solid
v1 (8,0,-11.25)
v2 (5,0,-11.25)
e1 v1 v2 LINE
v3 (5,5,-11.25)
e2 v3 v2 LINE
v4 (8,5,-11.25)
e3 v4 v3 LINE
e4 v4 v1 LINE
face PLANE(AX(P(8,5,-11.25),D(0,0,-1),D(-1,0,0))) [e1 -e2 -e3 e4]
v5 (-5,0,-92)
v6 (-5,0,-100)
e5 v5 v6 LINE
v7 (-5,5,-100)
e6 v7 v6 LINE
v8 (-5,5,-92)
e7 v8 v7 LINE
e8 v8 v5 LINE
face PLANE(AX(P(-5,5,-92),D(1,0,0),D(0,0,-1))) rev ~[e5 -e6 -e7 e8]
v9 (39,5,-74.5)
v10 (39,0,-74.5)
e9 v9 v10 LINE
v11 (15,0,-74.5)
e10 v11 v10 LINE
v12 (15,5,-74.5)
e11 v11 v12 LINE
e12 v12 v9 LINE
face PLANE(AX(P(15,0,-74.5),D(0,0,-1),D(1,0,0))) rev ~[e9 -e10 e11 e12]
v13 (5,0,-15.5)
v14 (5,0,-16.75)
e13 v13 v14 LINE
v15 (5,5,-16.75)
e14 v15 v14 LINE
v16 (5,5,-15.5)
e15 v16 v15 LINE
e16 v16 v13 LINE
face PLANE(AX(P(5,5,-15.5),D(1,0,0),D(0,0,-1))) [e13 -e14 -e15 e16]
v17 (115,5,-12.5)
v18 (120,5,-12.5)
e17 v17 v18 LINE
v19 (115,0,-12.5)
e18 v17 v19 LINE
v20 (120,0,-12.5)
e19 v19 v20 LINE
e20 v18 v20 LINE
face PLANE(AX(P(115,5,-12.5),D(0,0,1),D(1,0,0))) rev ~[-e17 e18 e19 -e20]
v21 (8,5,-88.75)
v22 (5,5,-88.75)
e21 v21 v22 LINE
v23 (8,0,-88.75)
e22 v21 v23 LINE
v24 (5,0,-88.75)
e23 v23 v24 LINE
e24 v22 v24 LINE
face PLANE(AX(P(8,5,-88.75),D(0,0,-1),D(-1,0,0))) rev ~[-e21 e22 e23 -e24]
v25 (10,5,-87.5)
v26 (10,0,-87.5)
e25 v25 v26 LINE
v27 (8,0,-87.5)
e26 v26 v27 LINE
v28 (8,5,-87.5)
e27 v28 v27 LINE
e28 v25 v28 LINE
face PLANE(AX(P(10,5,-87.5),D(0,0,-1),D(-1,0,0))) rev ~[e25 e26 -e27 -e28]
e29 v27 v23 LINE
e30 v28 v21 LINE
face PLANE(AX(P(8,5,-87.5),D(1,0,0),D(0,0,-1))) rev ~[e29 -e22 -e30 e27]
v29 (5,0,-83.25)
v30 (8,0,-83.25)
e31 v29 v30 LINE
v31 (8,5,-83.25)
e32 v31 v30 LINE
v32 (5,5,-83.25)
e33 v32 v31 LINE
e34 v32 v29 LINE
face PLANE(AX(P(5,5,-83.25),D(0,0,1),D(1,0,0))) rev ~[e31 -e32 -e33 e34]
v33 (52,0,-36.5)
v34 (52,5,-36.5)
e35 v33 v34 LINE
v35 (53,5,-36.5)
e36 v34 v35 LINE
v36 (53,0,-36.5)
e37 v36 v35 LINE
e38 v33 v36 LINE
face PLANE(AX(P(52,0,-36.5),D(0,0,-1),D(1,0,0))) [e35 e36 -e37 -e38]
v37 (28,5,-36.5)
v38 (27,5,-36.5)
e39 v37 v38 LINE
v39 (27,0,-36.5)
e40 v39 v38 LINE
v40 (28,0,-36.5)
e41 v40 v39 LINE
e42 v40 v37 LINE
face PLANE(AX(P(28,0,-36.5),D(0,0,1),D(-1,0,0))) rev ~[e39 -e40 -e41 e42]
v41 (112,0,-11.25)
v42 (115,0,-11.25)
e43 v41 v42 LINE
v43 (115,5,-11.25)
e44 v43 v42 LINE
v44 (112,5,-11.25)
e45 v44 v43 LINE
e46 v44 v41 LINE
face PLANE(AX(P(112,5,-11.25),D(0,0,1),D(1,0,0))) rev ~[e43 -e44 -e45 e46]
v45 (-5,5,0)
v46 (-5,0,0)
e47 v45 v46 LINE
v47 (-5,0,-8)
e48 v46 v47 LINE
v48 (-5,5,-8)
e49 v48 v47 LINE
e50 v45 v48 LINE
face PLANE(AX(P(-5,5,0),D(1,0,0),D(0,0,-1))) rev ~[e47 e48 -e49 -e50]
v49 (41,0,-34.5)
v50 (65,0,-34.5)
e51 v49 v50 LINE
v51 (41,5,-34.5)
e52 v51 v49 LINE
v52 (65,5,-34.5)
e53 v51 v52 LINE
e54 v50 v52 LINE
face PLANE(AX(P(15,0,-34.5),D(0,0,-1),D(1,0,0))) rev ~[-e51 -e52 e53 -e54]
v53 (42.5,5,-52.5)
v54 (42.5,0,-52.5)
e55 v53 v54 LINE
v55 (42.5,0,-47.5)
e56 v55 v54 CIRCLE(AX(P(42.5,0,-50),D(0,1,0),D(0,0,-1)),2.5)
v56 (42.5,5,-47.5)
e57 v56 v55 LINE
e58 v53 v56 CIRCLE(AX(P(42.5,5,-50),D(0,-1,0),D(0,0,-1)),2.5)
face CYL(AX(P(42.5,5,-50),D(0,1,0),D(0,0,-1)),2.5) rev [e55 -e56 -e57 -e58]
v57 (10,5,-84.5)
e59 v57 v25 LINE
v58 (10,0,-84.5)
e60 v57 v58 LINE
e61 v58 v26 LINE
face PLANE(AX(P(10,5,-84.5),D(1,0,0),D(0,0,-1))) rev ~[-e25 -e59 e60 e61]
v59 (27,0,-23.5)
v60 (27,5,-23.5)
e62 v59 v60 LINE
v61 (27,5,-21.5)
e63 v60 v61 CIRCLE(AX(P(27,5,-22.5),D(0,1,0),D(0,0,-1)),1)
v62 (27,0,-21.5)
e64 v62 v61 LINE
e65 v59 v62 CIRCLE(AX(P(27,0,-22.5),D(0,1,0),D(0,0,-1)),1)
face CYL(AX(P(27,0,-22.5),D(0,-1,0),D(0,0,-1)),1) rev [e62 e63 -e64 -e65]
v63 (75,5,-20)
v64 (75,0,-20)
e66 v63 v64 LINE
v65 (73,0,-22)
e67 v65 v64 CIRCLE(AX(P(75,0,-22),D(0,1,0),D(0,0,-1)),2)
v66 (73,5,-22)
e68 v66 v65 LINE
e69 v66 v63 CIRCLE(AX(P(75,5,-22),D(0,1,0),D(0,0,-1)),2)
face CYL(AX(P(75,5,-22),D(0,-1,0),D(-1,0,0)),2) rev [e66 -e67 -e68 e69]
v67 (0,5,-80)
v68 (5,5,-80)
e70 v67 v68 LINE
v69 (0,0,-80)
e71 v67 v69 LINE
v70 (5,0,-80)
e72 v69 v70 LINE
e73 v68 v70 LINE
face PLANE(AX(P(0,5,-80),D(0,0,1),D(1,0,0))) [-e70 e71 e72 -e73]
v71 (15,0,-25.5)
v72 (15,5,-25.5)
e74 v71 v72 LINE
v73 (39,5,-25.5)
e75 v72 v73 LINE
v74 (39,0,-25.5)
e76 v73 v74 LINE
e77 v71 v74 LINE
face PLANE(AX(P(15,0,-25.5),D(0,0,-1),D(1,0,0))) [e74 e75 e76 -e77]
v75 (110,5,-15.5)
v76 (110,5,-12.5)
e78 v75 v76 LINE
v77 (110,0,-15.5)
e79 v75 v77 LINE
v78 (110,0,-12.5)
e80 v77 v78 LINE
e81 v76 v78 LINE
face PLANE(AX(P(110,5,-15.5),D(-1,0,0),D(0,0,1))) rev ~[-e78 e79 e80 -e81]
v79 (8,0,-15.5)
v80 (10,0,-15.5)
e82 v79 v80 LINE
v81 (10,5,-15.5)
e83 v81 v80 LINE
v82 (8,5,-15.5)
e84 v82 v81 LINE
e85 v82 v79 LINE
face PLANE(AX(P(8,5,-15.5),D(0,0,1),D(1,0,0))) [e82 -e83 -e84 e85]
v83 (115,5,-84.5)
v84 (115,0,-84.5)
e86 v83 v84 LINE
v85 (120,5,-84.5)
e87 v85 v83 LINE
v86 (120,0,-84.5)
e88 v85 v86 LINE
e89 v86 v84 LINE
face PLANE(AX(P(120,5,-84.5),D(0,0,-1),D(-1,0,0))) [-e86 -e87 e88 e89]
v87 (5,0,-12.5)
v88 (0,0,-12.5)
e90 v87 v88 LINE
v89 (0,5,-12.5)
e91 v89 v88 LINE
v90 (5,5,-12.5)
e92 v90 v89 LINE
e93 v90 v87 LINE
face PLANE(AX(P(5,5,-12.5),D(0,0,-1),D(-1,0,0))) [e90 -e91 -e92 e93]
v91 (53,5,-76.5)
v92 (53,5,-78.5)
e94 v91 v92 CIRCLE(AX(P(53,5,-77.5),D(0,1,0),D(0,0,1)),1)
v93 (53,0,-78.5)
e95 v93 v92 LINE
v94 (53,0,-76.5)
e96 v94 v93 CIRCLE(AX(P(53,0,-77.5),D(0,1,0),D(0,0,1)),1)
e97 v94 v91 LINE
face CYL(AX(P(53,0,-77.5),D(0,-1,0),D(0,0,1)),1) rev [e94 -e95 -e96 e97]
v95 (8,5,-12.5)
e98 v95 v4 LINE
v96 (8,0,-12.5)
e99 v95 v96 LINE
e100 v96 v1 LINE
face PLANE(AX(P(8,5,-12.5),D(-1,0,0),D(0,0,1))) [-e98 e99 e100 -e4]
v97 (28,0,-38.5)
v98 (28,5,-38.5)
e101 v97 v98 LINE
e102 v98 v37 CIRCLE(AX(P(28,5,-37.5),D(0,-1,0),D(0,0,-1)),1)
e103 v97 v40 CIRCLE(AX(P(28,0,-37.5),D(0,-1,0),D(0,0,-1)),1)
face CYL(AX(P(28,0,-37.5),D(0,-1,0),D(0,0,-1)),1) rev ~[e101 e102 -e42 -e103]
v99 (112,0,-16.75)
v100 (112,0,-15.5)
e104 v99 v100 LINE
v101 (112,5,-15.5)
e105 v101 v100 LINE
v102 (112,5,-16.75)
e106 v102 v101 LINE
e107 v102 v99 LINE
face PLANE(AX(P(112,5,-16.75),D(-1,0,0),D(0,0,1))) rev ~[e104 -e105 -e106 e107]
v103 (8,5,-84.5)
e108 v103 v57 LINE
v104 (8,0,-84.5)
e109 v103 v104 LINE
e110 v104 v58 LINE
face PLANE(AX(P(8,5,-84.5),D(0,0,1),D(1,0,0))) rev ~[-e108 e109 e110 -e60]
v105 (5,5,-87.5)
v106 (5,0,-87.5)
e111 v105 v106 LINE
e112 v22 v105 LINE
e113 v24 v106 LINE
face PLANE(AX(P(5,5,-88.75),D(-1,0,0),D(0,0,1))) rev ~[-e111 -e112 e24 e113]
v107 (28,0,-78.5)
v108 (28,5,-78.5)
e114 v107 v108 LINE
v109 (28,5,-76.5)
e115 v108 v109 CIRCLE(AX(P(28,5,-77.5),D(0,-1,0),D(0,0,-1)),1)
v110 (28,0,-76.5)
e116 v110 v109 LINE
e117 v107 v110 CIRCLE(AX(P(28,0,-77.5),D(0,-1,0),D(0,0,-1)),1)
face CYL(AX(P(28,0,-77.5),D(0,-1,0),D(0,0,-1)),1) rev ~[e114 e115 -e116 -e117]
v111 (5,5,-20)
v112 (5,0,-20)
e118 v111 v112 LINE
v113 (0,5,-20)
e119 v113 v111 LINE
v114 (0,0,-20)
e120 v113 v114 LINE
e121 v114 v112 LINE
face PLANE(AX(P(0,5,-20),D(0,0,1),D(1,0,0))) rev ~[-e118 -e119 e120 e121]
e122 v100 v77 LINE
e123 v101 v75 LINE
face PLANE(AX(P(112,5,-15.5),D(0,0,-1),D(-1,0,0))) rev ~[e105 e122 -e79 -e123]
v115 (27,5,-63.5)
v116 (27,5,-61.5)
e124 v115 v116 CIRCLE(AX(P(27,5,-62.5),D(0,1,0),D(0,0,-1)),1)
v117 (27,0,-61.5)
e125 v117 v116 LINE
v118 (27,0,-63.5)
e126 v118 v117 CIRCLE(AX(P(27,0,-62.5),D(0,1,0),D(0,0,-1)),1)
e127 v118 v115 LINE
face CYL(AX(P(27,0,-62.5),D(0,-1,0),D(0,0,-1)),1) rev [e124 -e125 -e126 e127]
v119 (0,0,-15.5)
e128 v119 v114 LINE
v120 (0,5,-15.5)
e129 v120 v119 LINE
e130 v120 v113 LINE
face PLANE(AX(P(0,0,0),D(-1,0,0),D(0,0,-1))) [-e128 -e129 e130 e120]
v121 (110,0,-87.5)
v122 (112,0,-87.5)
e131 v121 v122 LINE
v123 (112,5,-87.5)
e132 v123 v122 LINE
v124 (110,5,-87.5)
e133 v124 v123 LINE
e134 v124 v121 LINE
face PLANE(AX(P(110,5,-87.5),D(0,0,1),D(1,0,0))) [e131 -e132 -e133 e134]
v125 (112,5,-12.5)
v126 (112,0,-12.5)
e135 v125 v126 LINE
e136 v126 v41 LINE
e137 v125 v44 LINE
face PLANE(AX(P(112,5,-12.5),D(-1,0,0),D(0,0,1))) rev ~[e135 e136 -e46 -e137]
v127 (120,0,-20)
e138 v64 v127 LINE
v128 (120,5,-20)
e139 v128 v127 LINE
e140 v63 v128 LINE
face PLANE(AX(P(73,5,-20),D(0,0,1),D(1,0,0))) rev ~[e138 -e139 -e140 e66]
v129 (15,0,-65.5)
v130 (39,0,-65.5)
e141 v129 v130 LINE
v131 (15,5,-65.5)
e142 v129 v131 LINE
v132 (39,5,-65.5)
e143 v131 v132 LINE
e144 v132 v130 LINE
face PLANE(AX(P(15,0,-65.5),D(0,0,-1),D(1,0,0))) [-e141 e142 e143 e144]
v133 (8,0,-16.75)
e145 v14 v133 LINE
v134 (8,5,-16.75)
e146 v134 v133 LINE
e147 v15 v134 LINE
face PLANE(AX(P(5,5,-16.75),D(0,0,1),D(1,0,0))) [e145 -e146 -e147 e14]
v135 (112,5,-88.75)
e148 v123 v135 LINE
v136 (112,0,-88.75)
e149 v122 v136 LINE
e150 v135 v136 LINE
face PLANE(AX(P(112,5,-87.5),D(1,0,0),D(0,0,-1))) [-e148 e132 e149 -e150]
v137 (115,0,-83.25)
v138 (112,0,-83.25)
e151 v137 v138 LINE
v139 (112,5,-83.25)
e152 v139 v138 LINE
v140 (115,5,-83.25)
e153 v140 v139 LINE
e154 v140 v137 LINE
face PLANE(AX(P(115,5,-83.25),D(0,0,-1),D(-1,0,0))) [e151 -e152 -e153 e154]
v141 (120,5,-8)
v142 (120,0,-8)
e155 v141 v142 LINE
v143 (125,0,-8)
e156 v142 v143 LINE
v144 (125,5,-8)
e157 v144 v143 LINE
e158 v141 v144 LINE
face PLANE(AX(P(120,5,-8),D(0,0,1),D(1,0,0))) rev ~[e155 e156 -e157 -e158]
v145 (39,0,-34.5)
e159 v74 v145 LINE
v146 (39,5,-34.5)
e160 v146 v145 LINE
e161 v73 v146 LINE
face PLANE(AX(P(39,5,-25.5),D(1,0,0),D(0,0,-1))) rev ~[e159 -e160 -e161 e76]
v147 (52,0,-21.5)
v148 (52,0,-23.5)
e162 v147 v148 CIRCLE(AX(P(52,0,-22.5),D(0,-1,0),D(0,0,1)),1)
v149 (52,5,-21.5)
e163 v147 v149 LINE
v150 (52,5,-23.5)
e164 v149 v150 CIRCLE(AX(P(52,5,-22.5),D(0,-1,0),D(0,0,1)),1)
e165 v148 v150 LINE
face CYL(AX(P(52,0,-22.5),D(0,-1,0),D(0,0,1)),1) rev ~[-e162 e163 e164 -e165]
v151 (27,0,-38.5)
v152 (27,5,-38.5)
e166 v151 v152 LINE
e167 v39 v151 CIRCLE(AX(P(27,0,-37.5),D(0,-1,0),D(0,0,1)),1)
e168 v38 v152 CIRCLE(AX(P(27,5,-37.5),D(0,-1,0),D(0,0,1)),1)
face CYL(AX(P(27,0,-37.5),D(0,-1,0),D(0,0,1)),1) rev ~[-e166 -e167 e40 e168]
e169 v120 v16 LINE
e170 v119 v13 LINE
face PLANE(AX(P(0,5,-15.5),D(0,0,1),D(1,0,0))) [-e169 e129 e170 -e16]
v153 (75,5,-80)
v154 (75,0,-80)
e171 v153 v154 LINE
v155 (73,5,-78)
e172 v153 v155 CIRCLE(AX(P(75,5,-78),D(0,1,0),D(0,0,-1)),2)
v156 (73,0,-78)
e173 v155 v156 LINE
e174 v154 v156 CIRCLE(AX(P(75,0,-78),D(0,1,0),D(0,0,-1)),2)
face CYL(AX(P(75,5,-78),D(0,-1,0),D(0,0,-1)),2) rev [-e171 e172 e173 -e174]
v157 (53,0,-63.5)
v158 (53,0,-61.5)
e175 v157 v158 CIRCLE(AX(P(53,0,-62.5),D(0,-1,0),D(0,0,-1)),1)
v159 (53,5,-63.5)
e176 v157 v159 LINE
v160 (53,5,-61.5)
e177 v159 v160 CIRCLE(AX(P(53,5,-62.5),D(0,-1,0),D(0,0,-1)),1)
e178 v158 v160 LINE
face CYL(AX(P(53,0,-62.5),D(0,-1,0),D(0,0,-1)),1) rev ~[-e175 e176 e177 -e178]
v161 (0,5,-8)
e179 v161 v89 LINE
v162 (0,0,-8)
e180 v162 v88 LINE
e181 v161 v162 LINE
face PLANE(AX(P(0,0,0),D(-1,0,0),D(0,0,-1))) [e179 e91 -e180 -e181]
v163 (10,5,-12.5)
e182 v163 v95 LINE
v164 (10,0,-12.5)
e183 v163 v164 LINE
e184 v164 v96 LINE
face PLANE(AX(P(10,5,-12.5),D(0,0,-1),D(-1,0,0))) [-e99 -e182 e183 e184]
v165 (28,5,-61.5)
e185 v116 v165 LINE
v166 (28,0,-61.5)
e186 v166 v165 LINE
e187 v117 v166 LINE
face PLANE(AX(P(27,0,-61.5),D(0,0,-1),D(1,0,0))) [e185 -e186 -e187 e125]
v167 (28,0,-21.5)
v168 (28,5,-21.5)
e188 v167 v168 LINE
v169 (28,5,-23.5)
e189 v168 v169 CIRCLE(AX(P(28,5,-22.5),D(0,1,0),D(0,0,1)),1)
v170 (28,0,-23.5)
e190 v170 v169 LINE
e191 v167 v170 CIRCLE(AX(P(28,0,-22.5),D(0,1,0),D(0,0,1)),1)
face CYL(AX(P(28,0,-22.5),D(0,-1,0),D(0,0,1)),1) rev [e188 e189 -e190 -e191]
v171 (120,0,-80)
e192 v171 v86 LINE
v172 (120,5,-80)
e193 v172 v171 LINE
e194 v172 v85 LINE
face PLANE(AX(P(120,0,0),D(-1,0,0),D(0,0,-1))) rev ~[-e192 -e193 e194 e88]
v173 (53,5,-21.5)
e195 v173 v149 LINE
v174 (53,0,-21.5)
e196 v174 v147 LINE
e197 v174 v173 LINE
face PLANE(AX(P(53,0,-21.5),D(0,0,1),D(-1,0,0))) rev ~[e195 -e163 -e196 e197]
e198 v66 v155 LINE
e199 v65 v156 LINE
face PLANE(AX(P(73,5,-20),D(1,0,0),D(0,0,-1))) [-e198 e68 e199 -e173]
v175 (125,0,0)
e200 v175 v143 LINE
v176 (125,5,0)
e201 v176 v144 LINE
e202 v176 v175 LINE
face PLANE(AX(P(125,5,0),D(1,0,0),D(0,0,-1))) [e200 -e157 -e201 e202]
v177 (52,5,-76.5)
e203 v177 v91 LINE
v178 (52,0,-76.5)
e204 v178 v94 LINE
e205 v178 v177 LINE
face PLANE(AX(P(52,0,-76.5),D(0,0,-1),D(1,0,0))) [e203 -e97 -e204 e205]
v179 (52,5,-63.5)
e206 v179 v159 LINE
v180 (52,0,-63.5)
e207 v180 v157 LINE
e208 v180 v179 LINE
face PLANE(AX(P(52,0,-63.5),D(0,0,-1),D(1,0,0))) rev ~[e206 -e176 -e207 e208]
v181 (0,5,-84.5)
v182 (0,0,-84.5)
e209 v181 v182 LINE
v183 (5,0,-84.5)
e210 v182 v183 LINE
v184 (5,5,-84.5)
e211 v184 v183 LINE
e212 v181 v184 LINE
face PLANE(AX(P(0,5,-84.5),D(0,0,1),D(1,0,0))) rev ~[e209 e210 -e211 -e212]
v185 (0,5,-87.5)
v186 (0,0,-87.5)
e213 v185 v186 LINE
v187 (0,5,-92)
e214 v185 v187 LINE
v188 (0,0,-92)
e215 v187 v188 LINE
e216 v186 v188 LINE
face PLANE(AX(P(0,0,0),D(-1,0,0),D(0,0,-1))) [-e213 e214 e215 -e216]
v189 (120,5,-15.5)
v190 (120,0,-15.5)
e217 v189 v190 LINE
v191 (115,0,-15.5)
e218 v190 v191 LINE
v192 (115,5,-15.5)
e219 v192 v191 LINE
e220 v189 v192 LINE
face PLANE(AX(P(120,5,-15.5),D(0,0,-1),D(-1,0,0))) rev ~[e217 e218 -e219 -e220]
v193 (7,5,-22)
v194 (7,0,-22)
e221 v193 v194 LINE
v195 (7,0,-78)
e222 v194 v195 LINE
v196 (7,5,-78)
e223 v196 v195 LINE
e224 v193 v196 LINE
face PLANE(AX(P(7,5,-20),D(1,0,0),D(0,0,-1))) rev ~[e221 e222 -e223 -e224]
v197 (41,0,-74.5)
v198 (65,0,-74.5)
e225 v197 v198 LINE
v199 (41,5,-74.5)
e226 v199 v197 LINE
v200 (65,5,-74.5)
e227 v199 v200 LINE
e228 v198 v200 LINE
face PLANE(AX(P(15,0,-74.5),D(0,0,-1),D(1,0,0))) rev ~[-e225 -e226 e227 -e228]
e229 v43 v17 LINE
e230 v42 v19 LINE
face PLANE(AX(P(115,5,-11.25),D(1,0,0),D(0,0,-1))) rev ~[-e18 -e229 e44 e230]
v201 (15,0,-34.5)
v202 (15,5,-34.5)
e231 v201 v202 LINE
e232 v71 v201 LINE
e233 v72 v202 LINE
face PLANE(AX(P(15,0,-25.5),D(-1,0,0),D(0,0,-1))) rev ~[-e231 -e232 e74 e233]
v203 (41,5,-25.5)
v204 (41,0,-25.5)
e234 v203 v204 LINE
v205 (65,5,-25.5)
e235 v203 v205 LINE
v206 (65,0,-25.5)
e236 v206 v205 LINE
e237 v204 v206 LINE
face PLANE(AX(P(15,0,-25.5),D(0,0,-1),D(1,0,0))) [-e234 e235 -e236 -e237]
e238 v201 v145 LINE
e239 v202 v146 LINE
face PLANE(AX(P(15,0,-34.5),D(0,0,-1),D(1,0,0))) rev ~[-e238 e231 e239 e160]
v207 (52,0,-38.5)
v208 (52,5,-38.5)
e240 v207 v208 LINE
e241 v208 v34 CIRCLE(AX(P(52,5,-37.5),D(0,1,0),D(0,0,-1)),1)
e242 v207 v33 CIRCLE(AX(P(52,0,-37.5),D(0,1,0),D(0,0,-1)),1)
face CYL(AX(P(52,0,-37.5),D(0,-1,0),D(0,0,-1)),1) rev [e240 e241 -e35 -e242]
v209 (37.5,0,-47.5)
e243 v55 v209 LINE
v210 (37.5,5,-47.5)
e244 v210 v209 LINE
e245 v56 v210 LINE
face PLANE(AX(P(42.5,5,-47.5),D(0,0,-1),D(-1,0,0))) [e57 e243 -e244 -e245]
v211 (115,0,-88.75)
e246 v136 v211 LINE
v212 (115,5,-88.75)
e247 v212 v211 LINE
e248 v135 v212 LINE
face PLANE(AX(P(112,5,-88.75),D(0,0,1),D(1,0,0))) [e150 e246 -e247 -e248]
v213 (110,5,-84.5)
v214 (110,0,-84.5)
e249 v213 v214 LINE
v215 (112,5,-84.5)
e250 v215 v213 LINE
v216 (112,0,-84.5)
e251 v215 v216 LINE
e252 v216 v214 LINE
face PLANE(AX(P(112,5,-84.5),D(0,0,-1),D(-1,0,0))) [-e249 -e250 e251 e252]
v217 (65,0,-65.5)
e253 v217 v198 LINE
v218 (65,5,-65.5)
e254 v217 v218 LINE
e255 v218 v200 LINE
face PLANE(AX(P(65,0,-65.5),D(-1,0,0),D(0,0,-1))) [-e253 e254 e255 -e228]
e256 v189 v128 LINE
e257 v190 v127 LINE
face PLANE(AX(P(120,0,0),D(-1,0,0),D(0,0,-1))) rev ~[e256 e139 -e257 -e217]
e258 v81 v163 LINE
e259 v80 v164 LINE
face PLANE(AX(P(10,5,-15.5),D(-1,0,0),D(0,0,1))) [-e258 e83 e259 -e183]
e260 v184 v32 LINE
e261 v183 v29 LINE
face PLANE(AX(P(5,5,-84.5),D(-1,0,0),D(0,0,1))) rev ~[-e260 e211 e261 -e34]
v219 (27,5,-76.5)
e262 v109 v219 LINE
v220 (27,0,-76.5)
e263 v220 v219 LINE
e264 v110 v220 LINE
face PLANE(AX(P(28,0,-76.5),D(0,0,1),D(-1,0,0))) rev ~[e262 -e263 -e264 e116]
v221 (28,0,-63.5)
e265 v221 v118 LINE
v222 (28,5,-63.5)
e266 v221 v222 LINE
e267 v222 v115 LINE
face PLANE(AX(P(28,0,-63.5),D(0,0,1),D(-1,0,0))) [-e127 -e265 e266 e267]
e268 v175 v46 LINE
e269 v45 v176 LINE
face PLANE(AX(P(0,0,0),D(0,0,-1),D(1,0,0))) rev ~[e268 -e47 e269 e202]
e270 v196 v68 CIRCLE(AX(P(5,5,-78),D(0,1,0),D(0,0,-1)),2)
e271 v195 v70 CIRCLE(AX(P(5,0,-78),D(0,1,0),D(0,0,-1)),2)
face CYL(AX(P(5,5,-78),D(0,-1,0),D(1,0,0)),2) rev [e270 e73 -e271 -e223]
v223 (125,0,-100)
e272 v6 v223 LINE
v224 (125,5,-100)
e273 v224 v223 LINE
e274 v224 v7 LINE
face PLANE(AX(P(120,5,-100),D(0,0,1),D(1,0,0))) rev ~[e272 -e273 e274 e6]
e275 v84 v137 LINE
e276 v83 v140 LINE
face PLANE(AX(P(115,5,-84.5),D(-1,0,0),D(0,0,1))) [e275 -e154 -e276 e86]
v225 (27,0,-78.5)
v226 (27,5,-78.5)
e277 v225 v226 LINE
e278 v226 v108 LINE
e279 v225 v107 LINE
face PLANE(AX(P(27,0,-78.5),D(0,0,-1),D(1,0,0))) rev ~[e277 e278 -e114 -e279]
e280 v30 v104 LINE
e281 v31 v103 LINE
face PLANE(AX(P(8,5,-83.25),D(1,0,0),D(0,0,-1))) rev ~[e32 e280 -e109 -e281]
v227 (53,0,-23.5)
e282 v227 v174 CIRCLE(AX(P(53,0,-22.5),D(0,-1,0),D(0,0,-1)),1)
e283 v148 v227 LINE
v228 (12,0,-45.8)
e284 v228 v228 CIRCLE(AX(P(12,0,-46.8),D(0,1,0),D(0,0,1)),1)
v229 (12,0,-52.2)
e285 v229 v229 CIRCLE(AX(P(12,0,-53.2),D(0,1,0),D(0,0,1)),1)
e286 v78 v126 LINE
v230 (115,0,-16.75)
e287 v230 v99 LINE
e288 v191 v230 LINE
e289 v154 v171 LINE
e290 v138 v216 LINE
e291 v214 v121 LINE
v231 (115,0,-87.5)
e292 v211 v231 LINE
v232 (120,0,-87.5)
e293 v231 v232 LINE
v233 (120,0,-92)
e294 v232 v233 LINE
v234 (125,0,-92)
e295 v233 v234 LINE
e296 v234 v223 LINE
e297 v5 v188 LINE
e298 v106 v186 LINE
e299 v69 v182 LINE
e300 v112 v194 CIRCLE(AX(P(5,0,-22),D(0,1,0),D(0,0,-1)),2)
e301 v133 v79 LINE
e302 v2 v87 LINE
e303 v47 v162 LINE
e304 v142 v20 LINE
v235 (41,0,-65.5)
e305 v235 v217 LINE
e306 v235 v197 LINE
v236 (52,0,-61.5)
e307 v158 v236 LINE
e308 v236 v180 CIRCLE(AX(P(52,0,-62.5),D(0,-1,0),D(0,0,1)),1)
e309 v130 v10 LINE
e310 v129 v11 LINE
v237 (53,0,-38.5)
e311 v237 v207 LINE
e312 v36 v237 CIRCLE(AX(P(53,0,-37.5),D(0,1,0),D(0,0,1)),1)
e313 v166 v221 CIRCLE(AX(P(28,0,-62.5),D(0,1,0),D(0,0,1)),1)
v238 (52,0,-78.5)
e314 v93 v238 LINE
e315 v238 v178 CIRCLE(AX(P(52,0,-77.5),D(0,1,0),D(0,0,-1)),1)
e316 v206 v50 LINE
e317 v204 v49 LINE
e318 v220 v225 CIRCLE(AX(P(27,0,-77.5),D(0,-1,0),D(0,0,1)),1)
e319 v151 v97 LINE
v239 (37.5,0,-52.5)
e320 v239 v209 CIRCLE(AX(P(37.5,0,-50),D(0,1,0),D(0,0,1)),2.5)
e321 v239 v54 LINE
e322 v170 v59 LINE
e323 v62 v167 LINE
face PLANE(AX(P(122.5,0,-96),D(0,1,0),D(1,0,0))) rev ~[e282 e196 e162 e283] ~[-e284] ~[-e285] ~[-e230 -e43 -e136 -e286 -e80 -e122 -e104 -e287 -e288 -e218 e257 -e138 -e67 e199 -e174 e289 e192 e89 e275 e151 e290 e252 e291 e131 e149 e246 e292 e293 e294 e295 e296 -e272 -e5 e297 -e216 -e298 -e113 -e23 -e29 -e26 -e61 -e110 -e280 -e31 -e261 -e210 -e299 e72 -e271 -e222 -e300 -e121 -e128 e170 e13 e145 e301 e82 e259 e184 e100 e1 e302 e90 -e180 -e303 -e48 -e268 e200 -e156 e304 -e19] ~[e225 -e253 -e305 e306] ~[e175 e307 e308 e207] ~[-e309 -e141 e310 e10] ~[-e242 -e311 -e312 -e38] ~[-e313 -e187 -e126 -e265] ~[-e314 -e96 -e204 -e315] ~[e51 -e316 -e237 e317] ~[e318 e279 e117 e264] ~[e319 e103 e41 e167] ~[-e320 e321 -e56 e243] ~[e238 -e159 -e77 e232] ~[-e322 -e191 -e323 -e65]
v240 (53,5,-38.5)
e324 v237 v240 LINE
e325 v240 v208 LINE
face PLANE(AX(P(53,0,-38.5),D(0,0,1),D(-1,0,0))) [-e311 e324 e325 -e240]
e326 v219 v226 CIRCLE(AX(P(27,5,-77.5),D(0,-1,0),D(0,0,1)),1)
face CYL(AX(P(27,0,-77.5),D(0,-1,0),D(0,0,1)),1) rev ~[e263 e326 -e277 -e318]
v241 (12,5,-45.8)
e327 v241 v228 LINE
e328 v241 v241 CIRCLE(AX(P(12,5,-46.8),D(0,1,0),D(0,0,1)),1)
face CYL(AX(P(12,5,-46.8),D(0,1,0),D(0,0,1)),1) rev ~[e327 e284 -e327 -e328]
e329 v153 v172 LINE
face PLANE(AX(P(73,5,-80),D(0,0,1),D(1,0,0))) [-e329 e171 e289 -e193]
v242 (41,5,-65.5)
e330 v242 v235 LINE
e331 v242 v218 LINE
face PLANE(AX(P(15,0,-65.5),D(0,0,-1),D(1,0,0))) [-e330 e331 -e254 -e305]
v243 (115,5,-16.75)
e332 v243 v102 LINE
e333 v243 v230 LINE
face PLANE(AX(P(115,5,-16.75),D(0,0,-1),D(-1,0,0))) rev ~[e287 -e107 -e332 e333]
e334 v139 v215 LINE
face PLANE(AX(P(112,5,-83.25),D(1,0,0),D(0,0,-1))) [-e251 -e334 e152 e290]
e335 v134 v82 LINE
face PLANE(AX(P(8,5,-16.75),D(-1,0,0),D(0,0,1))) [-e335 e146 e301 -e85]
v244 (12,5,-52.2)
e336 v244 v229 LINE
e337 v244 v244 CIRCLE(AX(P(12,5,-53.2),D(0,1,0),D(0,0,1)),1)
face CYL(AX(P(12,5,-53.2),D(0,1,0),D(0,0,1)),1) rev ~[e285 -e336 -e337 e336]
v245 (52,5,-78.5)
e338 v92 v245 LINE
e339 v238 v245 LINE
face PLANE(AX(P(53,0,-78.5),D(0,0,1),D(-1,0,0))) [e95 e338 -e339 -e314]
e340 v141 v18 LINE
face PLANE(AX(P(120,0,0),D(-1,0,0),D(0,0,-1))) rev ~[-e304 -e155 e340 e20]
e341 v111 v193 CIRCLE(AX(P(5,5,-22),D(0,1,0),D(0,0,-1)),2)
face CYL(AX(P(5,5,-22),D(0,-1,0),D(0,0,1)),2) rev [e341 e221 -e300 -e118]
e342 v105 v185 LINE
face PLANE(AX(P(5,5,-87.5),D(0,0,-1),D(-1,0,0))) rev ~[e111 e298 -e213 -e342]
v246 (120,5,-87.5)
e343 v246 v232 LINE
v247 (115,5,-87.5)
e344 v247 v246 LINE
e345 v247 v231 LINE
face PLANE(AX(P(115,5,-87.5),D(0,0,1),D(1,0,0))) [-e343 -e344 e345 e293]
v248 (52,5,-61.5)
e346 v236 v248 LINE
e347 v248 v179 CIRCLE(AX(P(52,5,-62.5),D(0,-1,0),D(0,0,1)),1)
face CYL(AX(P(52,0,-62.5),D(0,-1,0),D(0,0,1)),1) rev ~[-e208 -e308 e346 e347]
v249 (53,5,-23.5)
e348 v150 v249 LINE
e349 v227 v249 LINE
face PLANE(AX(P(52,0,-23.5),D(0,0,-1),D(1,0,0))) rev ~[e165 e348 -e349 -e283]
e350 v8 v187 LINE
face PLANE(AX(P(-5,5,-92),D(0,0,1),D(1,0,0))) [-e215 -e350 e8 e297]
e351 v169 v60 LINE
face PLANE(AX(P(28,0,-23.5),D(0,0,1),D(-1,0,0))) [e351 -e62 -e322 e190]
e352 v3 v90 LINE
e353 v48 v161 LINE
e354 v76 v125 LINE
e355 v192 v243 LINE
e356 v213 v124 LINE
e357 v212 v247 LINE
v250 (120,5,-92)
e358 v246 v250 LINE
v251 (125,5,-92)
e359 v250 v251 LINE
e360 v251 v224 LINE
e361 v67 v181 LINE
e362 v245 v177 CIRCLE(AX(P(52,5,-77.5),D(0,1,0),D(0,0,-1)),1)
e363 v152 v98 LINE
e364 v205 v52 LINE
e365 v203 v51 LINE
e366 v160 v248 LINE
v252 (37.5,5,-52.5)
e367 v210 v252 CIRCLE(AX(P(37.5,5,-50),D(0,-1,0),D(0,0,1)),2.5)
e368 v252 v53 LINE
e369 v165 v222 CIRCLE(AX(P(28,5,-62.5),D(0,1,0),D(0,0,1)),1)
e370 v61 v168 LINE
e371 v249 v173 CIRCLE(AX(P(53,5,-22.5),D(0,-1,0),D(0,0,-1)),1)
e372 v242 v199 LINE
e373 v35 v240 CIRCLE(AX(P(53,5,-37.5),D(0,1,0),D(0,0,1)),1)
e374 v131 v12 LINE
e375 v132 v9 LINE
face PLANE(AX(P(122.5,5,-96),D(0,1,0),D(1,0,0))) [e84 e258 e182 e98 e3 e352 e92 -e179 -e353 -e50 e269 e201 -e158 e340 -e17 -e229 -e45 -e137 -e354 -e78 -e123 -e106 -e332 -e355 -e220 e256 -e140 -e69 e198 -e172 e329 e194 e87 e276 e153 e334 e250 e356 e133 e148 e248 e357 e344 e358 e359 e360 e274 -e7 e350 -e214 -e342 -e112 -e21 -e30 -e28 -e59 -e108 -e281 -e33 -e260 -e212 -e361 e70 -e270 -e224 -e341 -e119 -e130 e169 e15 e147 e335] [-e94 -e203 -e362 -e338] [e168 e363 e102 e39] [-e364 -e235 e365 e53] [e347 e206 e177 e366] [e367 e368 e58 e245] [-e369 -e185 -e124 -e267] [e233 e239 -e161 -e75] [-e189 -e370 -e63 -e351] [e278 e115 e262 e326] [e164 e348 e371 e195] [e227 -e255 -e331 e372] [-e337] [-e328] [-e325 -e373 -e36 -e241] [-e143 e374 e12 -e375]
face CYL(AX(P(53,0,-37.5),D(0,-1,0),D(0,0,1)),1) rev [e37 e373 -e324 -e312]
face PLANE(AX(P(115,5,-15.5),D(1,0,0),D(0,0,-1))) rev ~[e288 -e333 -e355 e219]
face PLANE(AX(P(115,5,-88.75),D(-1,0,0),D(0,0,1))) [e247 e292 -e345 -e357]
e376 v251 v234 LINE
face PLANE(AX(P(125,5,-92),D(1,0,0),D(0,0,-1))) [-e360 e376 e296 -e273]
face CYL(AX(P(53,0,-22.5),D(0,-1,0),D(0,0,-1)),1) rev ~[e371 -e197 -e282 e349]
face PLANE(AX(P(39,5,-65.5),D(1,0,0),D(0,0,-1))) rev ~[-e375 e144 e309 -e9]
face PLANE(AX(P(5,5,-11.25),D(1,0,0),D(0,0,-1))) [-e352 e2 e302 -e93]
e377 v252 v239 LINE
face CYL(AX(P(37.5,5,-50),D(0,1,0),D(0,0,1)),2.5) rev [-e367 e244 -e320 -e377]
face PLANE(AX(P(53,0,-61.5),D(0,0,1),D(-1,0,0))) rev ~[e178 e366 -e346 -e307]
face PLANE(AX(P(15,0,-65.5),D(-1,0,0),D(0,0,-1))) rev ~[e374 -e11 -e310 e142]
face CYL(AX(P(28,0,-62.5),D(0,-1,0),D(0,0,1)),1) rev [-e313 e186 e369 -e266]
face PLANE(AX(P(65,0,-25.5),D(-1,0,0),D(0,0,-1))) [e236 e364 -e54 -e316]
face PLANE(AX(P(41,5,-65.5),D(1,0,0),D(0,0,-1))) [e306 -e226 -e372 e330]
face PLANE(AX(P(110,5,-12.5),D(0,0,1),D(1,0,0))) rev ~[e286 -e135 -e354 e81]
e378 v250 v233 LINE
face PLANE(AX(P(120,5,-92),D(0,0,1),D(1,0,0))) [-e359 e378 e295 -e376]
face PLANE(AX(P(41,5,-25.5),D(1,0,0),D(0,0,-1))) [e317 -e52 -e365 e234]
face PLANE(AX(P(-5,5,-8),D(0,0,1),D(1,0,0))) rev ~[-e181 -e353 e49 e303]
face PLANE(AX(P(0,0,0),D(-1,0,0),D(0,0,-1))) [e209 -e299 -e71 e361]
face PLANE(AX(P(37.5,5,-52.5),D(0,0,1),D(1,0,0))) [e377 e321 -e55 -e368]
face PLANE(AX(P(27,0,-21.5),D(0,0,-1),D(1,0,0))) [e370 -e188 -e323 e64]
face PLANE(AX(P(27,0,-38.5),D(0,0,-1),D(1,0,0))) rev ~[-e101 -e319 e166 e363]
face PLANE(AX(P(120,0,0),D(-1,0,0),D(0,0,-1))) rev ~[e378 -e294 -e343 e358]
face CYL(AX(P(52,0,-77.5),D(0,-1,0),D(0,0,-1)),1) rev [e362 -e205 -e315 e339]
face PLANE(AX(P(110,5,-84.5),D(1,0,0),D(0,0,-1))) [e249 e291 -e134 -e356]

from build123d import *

# Parameters (mm, degrees)
SKETCH1_W           = 120
SKETCH1_H           = 100
SKETCH1_W_2         = 50
SKETCH1_H_2         = 9
BOSS_EXTRUDE1_DEPTH = 5
SKETCH2_W           = 5
SKETCH2_H           = 8
BOSS_EXTRUDE2_DEPTH = 5
SKETCH3_W           = 47
SKETCH3_H           = 60
SKETCH3_W_2         = 7
CUT_EXTRUDE1_DEPTH  = 161.15617378
FILLET1_R           = 2
SKETCH4_R           = 1
CUT_EXTRUDE2_DEPTH  = 161.15617378
CUT_EXTRUDE3_DEPTH  = 161.15617378
SKETCH6_W           = 2
SKETCH6_H           = 9
BOSS_EXTRUDE3_DEPTH = 5


with BuildPart() as part:
    # Sketch1 → Boss-Extrude1 (new body)
    with BuildSketch(Plane(origin=(0, 0, 0), x_dir=(1, 0, 0), z_dir=(0, 1, 0))):
        with Locations((60, 50)):
            Rectangle(SKETCH1_W, SKETCH1_H)
        with BuildLine():
            Line((27, 78.5), (28, 78.5))
            ThreePointArc((28, 78.5), (29, 77.5), (28, 76.5))
            Line((28, 76.5), (27, 76.5))
            ThreePointArc((27, 76.5), (26, 77.5), (27, 78.5))
        make_face(mode=Mode.SUBTRACT)
        with Locations((40, 70)):
            Rectangle(SKETCH1_W_2, SKETCH1_H_2, mode=Mode.SUBTRACT)
        with BuildLine():
            Line((53, 78.5), (52, 78.5))
            ThreePointArc((52, 78.5), (51, 77.5), (52, 76.5))
            Line((52, 76.5), (53, 76.5))
            ThreePointArc((53, 76.5), (54, 77.5), (53, 78.5))
        make_face(mode=Mode.SUBTRACT)
        with BuildLine():
            Line((27, 61.5), (28, 61.5))
            ThreePointArc((28, 61.5), (29, 62.5), (28, 63.5))
            Line((28, 63.5), (27, 63.5))
            ThreePointArc((27, 63.5), (26, 62.5), (27, 61.5))
        make_face(mode=Mode.SUBTRACT)
        with BuildLine():
            Line((53, 61.5), (52, 61.5))
            ThreePointArc((52, 61.5), (51, 62.5), (52, 63.5))
            Line((52, 63.5), (53, 63.5))
            ThreePointArc((53, 63.5), (54, 62.5), (53, 61.5))
        make_face(mode=Mode.SUBTRACT)
        with BuildLine():
            Line((27, 21.5), (28, 21.5))
            ThreePointArc((28, 21.5), (29, 22.5), (28, 23.5))
            Line((28, 23.5), (27, 23.5))
            ThreePointArc((27, 23.5), (26, 22.5), (27, 21.5))
        make_face(mode=Mode.SUBTRACT)
        with BuildLine():
            Line((53, 21.5), (52, 21.5))
            ThreePointArc((52, 21.5), (51, 22.5), (52, 23.5))
            Line((52, 23.5), (53, 23.5))
            ThreePointArc((53, 23.5), (54, 22.5), (53, 21.5))
        make_face(mode=Mode.SUBTRACT)
        with BuildLine():
            Line((27, 38.5), (28, 38.5))
            ThreePointArc((28, 38.5), (29, 37.5), (28, 36.5))
            Line((28, 36.5), (27, 36.5))
            ThreePointArc((27, 36.5), (26, 37.5), (27, 38.5))
        make_face(mode=Mode.SUBTRACT)
        with BuildLine():
            Line((53, 38.5), (52, 38.5))
            ThreePointArc((52, 38.5), (51, 37.5), (52, 36.5))
            Line((52, 36.5), (53, 36.5))
            ThreePointArc((53, 36.5), (54, 37.5), (53, 38.5))
        make_face(mode=Mode.SUBTRACT)
        with Locations((40, 30)):
            Rectangle(SKETCH1_W_2, SKETCH1_H_2, mode=Mode.SUBTRACT)
    extrude(amount=BOSS_EXTRUDE1_DEPTH)

    # Sketch2 → Boss-Extrude2 (add)
    with BuildSketch(Plane(origin=(0, 5, 0), x_dir=(1, 0, 0), z_dir=(0, 1, 0))):
        with Locations((122.5, 96)):
            Rectangle(SKETCH2_W, SKETCH2_H)
        with Locations((122.5, 4)):
            Rectangle(SKETCH2_W, SKETCH2_H)
        with Locations((-2.5, 4)):
            Rectangle(SKETCH2_W, SKETCH2_H)
        with Locations((-2.5, 96)):
            Rectangle(SKETCH2_W, SKETCH2_H)
    extrude(amount=-BOSS_EXTRUDE2_DEPTH)

    # Sketch3 → Cut-Extrude1 (cut, through all)
    with BuildSketch(Plane(origin=(0, 5, 0), x_dir=(1, 0, 0), z_dir=(0, 1, 0))):
        with Locations((96.5, 50)):
            Rectangle(SKETCH3_W, SKETCH3_H)
        with Locations((3.5, 50)):
            Rectangle(SKETCH3_W_2, SKETCH3_H)
    extrude(amount=-CUT_EXTRUDE1_DEPTH, mode=Mode.SUBTRACT)

    # Fillet1
    fillet1_edges = [part.edges().sort_by_distance(p)[0] for p in [
        (73, 2.5, -20),
        (73, 2.5, -80),
        (7, 2.5, -80),
        (7, 2.5, -20),
    ]]
    fillet(fillet1_edges, radius=FILLET1_R)

    # Sketch4 → Cut-Extrude2 (cut, through all)
    with BuildSketch(Plane(origin=(0, 5, 0), x_dir=(1, 0, 0), z_dir=(0, 1, 0))):
        with Locations(Location((12, 53.2, 0), (0, 0, 270))):
            Circle(SKETCH4_R)
        with Locations(Location((12, 46.8, 0), (0, 0, 270))):
            Circle(SKETCH4_R)
        with BuildLine():
            Line((37.5, 52.5), (42.5, 52.5))
            ThreePointArc((42.5, 52.5), (45, 50), (42.5, 47.5))
            Line((42.5, 47.5), (37.5, 47.5))
            ThreePointArc((37.5, 47.5), (35, 50), (37.5, 52.5))
        make_face()
    extrude(amount=-CUT_EXTRUDE2_DEPTH, mode=Mode.SUBTRACT)

    # Sketch5 → Cut-Extrude3 (cut, through all)
    with BuildSketch(Plane(origin=(0, 5, 0), x_dir=(1, 0, 0), z_dir=(0, 1, 0))):
        Polygon((120, 15.5), (115, 15.5), (115, 16.75), (112, 16.75), (112, 15.5), (110, 15.5), (110, 12.5), (112, 12.5), (112, 11.25), (115, 11.25), (115, 12.5), (120, 12.5), align=None)
        Polygon((0, 12.5), (0, 15.5), (5, 15.5), (5, 16.75), (8, 16.75), (8, 15.5), (10, 15.5), (10, 12.5), (8, 12.5), (8, 11.25), (5, 11.25), (5, 12.5), align=None)
        Polygon((0, 84.5), (5, 84.5), (5, 83.25), (8, 83.25), (8, 84.5), (10, 84.5), (10, 87.5), (8, 87.5), (8, 88.75), (5, 88.75), (5, 87.5), (0, 87.5), align=None)
        Polygon((120, 87.5), (120, 84.5), (115, 84.5), (115, 83.25), (112, 83.25), (112, 84.5), (110, 84.5), (110, 87.5), (112, 87.5), (112, 88.75), (115, 88.75), (115, 87.5), align=None)
    extrude(amount=-CUT_EXTRUDE3_DEPTH, mode=Mode.SUBTRACT)

    # Sketch6 → Boss-Extrude3 (add)
    with BuildSketch(Plane(origin=(0, 5, 0), x_dir=(1, 0, 0), z_dir=(0, 1, 0))):
        with Locations((40, 70)):
            Rectangle(SKETCH6_W, SKETCH6_H)
        with Locations((40, 30)):
            Rectangle(SKETCH6_W, SKETCH6_H)
    extrude(amount=-BOSS_EXTRUDE3_DEPTH)


solid = part.part
